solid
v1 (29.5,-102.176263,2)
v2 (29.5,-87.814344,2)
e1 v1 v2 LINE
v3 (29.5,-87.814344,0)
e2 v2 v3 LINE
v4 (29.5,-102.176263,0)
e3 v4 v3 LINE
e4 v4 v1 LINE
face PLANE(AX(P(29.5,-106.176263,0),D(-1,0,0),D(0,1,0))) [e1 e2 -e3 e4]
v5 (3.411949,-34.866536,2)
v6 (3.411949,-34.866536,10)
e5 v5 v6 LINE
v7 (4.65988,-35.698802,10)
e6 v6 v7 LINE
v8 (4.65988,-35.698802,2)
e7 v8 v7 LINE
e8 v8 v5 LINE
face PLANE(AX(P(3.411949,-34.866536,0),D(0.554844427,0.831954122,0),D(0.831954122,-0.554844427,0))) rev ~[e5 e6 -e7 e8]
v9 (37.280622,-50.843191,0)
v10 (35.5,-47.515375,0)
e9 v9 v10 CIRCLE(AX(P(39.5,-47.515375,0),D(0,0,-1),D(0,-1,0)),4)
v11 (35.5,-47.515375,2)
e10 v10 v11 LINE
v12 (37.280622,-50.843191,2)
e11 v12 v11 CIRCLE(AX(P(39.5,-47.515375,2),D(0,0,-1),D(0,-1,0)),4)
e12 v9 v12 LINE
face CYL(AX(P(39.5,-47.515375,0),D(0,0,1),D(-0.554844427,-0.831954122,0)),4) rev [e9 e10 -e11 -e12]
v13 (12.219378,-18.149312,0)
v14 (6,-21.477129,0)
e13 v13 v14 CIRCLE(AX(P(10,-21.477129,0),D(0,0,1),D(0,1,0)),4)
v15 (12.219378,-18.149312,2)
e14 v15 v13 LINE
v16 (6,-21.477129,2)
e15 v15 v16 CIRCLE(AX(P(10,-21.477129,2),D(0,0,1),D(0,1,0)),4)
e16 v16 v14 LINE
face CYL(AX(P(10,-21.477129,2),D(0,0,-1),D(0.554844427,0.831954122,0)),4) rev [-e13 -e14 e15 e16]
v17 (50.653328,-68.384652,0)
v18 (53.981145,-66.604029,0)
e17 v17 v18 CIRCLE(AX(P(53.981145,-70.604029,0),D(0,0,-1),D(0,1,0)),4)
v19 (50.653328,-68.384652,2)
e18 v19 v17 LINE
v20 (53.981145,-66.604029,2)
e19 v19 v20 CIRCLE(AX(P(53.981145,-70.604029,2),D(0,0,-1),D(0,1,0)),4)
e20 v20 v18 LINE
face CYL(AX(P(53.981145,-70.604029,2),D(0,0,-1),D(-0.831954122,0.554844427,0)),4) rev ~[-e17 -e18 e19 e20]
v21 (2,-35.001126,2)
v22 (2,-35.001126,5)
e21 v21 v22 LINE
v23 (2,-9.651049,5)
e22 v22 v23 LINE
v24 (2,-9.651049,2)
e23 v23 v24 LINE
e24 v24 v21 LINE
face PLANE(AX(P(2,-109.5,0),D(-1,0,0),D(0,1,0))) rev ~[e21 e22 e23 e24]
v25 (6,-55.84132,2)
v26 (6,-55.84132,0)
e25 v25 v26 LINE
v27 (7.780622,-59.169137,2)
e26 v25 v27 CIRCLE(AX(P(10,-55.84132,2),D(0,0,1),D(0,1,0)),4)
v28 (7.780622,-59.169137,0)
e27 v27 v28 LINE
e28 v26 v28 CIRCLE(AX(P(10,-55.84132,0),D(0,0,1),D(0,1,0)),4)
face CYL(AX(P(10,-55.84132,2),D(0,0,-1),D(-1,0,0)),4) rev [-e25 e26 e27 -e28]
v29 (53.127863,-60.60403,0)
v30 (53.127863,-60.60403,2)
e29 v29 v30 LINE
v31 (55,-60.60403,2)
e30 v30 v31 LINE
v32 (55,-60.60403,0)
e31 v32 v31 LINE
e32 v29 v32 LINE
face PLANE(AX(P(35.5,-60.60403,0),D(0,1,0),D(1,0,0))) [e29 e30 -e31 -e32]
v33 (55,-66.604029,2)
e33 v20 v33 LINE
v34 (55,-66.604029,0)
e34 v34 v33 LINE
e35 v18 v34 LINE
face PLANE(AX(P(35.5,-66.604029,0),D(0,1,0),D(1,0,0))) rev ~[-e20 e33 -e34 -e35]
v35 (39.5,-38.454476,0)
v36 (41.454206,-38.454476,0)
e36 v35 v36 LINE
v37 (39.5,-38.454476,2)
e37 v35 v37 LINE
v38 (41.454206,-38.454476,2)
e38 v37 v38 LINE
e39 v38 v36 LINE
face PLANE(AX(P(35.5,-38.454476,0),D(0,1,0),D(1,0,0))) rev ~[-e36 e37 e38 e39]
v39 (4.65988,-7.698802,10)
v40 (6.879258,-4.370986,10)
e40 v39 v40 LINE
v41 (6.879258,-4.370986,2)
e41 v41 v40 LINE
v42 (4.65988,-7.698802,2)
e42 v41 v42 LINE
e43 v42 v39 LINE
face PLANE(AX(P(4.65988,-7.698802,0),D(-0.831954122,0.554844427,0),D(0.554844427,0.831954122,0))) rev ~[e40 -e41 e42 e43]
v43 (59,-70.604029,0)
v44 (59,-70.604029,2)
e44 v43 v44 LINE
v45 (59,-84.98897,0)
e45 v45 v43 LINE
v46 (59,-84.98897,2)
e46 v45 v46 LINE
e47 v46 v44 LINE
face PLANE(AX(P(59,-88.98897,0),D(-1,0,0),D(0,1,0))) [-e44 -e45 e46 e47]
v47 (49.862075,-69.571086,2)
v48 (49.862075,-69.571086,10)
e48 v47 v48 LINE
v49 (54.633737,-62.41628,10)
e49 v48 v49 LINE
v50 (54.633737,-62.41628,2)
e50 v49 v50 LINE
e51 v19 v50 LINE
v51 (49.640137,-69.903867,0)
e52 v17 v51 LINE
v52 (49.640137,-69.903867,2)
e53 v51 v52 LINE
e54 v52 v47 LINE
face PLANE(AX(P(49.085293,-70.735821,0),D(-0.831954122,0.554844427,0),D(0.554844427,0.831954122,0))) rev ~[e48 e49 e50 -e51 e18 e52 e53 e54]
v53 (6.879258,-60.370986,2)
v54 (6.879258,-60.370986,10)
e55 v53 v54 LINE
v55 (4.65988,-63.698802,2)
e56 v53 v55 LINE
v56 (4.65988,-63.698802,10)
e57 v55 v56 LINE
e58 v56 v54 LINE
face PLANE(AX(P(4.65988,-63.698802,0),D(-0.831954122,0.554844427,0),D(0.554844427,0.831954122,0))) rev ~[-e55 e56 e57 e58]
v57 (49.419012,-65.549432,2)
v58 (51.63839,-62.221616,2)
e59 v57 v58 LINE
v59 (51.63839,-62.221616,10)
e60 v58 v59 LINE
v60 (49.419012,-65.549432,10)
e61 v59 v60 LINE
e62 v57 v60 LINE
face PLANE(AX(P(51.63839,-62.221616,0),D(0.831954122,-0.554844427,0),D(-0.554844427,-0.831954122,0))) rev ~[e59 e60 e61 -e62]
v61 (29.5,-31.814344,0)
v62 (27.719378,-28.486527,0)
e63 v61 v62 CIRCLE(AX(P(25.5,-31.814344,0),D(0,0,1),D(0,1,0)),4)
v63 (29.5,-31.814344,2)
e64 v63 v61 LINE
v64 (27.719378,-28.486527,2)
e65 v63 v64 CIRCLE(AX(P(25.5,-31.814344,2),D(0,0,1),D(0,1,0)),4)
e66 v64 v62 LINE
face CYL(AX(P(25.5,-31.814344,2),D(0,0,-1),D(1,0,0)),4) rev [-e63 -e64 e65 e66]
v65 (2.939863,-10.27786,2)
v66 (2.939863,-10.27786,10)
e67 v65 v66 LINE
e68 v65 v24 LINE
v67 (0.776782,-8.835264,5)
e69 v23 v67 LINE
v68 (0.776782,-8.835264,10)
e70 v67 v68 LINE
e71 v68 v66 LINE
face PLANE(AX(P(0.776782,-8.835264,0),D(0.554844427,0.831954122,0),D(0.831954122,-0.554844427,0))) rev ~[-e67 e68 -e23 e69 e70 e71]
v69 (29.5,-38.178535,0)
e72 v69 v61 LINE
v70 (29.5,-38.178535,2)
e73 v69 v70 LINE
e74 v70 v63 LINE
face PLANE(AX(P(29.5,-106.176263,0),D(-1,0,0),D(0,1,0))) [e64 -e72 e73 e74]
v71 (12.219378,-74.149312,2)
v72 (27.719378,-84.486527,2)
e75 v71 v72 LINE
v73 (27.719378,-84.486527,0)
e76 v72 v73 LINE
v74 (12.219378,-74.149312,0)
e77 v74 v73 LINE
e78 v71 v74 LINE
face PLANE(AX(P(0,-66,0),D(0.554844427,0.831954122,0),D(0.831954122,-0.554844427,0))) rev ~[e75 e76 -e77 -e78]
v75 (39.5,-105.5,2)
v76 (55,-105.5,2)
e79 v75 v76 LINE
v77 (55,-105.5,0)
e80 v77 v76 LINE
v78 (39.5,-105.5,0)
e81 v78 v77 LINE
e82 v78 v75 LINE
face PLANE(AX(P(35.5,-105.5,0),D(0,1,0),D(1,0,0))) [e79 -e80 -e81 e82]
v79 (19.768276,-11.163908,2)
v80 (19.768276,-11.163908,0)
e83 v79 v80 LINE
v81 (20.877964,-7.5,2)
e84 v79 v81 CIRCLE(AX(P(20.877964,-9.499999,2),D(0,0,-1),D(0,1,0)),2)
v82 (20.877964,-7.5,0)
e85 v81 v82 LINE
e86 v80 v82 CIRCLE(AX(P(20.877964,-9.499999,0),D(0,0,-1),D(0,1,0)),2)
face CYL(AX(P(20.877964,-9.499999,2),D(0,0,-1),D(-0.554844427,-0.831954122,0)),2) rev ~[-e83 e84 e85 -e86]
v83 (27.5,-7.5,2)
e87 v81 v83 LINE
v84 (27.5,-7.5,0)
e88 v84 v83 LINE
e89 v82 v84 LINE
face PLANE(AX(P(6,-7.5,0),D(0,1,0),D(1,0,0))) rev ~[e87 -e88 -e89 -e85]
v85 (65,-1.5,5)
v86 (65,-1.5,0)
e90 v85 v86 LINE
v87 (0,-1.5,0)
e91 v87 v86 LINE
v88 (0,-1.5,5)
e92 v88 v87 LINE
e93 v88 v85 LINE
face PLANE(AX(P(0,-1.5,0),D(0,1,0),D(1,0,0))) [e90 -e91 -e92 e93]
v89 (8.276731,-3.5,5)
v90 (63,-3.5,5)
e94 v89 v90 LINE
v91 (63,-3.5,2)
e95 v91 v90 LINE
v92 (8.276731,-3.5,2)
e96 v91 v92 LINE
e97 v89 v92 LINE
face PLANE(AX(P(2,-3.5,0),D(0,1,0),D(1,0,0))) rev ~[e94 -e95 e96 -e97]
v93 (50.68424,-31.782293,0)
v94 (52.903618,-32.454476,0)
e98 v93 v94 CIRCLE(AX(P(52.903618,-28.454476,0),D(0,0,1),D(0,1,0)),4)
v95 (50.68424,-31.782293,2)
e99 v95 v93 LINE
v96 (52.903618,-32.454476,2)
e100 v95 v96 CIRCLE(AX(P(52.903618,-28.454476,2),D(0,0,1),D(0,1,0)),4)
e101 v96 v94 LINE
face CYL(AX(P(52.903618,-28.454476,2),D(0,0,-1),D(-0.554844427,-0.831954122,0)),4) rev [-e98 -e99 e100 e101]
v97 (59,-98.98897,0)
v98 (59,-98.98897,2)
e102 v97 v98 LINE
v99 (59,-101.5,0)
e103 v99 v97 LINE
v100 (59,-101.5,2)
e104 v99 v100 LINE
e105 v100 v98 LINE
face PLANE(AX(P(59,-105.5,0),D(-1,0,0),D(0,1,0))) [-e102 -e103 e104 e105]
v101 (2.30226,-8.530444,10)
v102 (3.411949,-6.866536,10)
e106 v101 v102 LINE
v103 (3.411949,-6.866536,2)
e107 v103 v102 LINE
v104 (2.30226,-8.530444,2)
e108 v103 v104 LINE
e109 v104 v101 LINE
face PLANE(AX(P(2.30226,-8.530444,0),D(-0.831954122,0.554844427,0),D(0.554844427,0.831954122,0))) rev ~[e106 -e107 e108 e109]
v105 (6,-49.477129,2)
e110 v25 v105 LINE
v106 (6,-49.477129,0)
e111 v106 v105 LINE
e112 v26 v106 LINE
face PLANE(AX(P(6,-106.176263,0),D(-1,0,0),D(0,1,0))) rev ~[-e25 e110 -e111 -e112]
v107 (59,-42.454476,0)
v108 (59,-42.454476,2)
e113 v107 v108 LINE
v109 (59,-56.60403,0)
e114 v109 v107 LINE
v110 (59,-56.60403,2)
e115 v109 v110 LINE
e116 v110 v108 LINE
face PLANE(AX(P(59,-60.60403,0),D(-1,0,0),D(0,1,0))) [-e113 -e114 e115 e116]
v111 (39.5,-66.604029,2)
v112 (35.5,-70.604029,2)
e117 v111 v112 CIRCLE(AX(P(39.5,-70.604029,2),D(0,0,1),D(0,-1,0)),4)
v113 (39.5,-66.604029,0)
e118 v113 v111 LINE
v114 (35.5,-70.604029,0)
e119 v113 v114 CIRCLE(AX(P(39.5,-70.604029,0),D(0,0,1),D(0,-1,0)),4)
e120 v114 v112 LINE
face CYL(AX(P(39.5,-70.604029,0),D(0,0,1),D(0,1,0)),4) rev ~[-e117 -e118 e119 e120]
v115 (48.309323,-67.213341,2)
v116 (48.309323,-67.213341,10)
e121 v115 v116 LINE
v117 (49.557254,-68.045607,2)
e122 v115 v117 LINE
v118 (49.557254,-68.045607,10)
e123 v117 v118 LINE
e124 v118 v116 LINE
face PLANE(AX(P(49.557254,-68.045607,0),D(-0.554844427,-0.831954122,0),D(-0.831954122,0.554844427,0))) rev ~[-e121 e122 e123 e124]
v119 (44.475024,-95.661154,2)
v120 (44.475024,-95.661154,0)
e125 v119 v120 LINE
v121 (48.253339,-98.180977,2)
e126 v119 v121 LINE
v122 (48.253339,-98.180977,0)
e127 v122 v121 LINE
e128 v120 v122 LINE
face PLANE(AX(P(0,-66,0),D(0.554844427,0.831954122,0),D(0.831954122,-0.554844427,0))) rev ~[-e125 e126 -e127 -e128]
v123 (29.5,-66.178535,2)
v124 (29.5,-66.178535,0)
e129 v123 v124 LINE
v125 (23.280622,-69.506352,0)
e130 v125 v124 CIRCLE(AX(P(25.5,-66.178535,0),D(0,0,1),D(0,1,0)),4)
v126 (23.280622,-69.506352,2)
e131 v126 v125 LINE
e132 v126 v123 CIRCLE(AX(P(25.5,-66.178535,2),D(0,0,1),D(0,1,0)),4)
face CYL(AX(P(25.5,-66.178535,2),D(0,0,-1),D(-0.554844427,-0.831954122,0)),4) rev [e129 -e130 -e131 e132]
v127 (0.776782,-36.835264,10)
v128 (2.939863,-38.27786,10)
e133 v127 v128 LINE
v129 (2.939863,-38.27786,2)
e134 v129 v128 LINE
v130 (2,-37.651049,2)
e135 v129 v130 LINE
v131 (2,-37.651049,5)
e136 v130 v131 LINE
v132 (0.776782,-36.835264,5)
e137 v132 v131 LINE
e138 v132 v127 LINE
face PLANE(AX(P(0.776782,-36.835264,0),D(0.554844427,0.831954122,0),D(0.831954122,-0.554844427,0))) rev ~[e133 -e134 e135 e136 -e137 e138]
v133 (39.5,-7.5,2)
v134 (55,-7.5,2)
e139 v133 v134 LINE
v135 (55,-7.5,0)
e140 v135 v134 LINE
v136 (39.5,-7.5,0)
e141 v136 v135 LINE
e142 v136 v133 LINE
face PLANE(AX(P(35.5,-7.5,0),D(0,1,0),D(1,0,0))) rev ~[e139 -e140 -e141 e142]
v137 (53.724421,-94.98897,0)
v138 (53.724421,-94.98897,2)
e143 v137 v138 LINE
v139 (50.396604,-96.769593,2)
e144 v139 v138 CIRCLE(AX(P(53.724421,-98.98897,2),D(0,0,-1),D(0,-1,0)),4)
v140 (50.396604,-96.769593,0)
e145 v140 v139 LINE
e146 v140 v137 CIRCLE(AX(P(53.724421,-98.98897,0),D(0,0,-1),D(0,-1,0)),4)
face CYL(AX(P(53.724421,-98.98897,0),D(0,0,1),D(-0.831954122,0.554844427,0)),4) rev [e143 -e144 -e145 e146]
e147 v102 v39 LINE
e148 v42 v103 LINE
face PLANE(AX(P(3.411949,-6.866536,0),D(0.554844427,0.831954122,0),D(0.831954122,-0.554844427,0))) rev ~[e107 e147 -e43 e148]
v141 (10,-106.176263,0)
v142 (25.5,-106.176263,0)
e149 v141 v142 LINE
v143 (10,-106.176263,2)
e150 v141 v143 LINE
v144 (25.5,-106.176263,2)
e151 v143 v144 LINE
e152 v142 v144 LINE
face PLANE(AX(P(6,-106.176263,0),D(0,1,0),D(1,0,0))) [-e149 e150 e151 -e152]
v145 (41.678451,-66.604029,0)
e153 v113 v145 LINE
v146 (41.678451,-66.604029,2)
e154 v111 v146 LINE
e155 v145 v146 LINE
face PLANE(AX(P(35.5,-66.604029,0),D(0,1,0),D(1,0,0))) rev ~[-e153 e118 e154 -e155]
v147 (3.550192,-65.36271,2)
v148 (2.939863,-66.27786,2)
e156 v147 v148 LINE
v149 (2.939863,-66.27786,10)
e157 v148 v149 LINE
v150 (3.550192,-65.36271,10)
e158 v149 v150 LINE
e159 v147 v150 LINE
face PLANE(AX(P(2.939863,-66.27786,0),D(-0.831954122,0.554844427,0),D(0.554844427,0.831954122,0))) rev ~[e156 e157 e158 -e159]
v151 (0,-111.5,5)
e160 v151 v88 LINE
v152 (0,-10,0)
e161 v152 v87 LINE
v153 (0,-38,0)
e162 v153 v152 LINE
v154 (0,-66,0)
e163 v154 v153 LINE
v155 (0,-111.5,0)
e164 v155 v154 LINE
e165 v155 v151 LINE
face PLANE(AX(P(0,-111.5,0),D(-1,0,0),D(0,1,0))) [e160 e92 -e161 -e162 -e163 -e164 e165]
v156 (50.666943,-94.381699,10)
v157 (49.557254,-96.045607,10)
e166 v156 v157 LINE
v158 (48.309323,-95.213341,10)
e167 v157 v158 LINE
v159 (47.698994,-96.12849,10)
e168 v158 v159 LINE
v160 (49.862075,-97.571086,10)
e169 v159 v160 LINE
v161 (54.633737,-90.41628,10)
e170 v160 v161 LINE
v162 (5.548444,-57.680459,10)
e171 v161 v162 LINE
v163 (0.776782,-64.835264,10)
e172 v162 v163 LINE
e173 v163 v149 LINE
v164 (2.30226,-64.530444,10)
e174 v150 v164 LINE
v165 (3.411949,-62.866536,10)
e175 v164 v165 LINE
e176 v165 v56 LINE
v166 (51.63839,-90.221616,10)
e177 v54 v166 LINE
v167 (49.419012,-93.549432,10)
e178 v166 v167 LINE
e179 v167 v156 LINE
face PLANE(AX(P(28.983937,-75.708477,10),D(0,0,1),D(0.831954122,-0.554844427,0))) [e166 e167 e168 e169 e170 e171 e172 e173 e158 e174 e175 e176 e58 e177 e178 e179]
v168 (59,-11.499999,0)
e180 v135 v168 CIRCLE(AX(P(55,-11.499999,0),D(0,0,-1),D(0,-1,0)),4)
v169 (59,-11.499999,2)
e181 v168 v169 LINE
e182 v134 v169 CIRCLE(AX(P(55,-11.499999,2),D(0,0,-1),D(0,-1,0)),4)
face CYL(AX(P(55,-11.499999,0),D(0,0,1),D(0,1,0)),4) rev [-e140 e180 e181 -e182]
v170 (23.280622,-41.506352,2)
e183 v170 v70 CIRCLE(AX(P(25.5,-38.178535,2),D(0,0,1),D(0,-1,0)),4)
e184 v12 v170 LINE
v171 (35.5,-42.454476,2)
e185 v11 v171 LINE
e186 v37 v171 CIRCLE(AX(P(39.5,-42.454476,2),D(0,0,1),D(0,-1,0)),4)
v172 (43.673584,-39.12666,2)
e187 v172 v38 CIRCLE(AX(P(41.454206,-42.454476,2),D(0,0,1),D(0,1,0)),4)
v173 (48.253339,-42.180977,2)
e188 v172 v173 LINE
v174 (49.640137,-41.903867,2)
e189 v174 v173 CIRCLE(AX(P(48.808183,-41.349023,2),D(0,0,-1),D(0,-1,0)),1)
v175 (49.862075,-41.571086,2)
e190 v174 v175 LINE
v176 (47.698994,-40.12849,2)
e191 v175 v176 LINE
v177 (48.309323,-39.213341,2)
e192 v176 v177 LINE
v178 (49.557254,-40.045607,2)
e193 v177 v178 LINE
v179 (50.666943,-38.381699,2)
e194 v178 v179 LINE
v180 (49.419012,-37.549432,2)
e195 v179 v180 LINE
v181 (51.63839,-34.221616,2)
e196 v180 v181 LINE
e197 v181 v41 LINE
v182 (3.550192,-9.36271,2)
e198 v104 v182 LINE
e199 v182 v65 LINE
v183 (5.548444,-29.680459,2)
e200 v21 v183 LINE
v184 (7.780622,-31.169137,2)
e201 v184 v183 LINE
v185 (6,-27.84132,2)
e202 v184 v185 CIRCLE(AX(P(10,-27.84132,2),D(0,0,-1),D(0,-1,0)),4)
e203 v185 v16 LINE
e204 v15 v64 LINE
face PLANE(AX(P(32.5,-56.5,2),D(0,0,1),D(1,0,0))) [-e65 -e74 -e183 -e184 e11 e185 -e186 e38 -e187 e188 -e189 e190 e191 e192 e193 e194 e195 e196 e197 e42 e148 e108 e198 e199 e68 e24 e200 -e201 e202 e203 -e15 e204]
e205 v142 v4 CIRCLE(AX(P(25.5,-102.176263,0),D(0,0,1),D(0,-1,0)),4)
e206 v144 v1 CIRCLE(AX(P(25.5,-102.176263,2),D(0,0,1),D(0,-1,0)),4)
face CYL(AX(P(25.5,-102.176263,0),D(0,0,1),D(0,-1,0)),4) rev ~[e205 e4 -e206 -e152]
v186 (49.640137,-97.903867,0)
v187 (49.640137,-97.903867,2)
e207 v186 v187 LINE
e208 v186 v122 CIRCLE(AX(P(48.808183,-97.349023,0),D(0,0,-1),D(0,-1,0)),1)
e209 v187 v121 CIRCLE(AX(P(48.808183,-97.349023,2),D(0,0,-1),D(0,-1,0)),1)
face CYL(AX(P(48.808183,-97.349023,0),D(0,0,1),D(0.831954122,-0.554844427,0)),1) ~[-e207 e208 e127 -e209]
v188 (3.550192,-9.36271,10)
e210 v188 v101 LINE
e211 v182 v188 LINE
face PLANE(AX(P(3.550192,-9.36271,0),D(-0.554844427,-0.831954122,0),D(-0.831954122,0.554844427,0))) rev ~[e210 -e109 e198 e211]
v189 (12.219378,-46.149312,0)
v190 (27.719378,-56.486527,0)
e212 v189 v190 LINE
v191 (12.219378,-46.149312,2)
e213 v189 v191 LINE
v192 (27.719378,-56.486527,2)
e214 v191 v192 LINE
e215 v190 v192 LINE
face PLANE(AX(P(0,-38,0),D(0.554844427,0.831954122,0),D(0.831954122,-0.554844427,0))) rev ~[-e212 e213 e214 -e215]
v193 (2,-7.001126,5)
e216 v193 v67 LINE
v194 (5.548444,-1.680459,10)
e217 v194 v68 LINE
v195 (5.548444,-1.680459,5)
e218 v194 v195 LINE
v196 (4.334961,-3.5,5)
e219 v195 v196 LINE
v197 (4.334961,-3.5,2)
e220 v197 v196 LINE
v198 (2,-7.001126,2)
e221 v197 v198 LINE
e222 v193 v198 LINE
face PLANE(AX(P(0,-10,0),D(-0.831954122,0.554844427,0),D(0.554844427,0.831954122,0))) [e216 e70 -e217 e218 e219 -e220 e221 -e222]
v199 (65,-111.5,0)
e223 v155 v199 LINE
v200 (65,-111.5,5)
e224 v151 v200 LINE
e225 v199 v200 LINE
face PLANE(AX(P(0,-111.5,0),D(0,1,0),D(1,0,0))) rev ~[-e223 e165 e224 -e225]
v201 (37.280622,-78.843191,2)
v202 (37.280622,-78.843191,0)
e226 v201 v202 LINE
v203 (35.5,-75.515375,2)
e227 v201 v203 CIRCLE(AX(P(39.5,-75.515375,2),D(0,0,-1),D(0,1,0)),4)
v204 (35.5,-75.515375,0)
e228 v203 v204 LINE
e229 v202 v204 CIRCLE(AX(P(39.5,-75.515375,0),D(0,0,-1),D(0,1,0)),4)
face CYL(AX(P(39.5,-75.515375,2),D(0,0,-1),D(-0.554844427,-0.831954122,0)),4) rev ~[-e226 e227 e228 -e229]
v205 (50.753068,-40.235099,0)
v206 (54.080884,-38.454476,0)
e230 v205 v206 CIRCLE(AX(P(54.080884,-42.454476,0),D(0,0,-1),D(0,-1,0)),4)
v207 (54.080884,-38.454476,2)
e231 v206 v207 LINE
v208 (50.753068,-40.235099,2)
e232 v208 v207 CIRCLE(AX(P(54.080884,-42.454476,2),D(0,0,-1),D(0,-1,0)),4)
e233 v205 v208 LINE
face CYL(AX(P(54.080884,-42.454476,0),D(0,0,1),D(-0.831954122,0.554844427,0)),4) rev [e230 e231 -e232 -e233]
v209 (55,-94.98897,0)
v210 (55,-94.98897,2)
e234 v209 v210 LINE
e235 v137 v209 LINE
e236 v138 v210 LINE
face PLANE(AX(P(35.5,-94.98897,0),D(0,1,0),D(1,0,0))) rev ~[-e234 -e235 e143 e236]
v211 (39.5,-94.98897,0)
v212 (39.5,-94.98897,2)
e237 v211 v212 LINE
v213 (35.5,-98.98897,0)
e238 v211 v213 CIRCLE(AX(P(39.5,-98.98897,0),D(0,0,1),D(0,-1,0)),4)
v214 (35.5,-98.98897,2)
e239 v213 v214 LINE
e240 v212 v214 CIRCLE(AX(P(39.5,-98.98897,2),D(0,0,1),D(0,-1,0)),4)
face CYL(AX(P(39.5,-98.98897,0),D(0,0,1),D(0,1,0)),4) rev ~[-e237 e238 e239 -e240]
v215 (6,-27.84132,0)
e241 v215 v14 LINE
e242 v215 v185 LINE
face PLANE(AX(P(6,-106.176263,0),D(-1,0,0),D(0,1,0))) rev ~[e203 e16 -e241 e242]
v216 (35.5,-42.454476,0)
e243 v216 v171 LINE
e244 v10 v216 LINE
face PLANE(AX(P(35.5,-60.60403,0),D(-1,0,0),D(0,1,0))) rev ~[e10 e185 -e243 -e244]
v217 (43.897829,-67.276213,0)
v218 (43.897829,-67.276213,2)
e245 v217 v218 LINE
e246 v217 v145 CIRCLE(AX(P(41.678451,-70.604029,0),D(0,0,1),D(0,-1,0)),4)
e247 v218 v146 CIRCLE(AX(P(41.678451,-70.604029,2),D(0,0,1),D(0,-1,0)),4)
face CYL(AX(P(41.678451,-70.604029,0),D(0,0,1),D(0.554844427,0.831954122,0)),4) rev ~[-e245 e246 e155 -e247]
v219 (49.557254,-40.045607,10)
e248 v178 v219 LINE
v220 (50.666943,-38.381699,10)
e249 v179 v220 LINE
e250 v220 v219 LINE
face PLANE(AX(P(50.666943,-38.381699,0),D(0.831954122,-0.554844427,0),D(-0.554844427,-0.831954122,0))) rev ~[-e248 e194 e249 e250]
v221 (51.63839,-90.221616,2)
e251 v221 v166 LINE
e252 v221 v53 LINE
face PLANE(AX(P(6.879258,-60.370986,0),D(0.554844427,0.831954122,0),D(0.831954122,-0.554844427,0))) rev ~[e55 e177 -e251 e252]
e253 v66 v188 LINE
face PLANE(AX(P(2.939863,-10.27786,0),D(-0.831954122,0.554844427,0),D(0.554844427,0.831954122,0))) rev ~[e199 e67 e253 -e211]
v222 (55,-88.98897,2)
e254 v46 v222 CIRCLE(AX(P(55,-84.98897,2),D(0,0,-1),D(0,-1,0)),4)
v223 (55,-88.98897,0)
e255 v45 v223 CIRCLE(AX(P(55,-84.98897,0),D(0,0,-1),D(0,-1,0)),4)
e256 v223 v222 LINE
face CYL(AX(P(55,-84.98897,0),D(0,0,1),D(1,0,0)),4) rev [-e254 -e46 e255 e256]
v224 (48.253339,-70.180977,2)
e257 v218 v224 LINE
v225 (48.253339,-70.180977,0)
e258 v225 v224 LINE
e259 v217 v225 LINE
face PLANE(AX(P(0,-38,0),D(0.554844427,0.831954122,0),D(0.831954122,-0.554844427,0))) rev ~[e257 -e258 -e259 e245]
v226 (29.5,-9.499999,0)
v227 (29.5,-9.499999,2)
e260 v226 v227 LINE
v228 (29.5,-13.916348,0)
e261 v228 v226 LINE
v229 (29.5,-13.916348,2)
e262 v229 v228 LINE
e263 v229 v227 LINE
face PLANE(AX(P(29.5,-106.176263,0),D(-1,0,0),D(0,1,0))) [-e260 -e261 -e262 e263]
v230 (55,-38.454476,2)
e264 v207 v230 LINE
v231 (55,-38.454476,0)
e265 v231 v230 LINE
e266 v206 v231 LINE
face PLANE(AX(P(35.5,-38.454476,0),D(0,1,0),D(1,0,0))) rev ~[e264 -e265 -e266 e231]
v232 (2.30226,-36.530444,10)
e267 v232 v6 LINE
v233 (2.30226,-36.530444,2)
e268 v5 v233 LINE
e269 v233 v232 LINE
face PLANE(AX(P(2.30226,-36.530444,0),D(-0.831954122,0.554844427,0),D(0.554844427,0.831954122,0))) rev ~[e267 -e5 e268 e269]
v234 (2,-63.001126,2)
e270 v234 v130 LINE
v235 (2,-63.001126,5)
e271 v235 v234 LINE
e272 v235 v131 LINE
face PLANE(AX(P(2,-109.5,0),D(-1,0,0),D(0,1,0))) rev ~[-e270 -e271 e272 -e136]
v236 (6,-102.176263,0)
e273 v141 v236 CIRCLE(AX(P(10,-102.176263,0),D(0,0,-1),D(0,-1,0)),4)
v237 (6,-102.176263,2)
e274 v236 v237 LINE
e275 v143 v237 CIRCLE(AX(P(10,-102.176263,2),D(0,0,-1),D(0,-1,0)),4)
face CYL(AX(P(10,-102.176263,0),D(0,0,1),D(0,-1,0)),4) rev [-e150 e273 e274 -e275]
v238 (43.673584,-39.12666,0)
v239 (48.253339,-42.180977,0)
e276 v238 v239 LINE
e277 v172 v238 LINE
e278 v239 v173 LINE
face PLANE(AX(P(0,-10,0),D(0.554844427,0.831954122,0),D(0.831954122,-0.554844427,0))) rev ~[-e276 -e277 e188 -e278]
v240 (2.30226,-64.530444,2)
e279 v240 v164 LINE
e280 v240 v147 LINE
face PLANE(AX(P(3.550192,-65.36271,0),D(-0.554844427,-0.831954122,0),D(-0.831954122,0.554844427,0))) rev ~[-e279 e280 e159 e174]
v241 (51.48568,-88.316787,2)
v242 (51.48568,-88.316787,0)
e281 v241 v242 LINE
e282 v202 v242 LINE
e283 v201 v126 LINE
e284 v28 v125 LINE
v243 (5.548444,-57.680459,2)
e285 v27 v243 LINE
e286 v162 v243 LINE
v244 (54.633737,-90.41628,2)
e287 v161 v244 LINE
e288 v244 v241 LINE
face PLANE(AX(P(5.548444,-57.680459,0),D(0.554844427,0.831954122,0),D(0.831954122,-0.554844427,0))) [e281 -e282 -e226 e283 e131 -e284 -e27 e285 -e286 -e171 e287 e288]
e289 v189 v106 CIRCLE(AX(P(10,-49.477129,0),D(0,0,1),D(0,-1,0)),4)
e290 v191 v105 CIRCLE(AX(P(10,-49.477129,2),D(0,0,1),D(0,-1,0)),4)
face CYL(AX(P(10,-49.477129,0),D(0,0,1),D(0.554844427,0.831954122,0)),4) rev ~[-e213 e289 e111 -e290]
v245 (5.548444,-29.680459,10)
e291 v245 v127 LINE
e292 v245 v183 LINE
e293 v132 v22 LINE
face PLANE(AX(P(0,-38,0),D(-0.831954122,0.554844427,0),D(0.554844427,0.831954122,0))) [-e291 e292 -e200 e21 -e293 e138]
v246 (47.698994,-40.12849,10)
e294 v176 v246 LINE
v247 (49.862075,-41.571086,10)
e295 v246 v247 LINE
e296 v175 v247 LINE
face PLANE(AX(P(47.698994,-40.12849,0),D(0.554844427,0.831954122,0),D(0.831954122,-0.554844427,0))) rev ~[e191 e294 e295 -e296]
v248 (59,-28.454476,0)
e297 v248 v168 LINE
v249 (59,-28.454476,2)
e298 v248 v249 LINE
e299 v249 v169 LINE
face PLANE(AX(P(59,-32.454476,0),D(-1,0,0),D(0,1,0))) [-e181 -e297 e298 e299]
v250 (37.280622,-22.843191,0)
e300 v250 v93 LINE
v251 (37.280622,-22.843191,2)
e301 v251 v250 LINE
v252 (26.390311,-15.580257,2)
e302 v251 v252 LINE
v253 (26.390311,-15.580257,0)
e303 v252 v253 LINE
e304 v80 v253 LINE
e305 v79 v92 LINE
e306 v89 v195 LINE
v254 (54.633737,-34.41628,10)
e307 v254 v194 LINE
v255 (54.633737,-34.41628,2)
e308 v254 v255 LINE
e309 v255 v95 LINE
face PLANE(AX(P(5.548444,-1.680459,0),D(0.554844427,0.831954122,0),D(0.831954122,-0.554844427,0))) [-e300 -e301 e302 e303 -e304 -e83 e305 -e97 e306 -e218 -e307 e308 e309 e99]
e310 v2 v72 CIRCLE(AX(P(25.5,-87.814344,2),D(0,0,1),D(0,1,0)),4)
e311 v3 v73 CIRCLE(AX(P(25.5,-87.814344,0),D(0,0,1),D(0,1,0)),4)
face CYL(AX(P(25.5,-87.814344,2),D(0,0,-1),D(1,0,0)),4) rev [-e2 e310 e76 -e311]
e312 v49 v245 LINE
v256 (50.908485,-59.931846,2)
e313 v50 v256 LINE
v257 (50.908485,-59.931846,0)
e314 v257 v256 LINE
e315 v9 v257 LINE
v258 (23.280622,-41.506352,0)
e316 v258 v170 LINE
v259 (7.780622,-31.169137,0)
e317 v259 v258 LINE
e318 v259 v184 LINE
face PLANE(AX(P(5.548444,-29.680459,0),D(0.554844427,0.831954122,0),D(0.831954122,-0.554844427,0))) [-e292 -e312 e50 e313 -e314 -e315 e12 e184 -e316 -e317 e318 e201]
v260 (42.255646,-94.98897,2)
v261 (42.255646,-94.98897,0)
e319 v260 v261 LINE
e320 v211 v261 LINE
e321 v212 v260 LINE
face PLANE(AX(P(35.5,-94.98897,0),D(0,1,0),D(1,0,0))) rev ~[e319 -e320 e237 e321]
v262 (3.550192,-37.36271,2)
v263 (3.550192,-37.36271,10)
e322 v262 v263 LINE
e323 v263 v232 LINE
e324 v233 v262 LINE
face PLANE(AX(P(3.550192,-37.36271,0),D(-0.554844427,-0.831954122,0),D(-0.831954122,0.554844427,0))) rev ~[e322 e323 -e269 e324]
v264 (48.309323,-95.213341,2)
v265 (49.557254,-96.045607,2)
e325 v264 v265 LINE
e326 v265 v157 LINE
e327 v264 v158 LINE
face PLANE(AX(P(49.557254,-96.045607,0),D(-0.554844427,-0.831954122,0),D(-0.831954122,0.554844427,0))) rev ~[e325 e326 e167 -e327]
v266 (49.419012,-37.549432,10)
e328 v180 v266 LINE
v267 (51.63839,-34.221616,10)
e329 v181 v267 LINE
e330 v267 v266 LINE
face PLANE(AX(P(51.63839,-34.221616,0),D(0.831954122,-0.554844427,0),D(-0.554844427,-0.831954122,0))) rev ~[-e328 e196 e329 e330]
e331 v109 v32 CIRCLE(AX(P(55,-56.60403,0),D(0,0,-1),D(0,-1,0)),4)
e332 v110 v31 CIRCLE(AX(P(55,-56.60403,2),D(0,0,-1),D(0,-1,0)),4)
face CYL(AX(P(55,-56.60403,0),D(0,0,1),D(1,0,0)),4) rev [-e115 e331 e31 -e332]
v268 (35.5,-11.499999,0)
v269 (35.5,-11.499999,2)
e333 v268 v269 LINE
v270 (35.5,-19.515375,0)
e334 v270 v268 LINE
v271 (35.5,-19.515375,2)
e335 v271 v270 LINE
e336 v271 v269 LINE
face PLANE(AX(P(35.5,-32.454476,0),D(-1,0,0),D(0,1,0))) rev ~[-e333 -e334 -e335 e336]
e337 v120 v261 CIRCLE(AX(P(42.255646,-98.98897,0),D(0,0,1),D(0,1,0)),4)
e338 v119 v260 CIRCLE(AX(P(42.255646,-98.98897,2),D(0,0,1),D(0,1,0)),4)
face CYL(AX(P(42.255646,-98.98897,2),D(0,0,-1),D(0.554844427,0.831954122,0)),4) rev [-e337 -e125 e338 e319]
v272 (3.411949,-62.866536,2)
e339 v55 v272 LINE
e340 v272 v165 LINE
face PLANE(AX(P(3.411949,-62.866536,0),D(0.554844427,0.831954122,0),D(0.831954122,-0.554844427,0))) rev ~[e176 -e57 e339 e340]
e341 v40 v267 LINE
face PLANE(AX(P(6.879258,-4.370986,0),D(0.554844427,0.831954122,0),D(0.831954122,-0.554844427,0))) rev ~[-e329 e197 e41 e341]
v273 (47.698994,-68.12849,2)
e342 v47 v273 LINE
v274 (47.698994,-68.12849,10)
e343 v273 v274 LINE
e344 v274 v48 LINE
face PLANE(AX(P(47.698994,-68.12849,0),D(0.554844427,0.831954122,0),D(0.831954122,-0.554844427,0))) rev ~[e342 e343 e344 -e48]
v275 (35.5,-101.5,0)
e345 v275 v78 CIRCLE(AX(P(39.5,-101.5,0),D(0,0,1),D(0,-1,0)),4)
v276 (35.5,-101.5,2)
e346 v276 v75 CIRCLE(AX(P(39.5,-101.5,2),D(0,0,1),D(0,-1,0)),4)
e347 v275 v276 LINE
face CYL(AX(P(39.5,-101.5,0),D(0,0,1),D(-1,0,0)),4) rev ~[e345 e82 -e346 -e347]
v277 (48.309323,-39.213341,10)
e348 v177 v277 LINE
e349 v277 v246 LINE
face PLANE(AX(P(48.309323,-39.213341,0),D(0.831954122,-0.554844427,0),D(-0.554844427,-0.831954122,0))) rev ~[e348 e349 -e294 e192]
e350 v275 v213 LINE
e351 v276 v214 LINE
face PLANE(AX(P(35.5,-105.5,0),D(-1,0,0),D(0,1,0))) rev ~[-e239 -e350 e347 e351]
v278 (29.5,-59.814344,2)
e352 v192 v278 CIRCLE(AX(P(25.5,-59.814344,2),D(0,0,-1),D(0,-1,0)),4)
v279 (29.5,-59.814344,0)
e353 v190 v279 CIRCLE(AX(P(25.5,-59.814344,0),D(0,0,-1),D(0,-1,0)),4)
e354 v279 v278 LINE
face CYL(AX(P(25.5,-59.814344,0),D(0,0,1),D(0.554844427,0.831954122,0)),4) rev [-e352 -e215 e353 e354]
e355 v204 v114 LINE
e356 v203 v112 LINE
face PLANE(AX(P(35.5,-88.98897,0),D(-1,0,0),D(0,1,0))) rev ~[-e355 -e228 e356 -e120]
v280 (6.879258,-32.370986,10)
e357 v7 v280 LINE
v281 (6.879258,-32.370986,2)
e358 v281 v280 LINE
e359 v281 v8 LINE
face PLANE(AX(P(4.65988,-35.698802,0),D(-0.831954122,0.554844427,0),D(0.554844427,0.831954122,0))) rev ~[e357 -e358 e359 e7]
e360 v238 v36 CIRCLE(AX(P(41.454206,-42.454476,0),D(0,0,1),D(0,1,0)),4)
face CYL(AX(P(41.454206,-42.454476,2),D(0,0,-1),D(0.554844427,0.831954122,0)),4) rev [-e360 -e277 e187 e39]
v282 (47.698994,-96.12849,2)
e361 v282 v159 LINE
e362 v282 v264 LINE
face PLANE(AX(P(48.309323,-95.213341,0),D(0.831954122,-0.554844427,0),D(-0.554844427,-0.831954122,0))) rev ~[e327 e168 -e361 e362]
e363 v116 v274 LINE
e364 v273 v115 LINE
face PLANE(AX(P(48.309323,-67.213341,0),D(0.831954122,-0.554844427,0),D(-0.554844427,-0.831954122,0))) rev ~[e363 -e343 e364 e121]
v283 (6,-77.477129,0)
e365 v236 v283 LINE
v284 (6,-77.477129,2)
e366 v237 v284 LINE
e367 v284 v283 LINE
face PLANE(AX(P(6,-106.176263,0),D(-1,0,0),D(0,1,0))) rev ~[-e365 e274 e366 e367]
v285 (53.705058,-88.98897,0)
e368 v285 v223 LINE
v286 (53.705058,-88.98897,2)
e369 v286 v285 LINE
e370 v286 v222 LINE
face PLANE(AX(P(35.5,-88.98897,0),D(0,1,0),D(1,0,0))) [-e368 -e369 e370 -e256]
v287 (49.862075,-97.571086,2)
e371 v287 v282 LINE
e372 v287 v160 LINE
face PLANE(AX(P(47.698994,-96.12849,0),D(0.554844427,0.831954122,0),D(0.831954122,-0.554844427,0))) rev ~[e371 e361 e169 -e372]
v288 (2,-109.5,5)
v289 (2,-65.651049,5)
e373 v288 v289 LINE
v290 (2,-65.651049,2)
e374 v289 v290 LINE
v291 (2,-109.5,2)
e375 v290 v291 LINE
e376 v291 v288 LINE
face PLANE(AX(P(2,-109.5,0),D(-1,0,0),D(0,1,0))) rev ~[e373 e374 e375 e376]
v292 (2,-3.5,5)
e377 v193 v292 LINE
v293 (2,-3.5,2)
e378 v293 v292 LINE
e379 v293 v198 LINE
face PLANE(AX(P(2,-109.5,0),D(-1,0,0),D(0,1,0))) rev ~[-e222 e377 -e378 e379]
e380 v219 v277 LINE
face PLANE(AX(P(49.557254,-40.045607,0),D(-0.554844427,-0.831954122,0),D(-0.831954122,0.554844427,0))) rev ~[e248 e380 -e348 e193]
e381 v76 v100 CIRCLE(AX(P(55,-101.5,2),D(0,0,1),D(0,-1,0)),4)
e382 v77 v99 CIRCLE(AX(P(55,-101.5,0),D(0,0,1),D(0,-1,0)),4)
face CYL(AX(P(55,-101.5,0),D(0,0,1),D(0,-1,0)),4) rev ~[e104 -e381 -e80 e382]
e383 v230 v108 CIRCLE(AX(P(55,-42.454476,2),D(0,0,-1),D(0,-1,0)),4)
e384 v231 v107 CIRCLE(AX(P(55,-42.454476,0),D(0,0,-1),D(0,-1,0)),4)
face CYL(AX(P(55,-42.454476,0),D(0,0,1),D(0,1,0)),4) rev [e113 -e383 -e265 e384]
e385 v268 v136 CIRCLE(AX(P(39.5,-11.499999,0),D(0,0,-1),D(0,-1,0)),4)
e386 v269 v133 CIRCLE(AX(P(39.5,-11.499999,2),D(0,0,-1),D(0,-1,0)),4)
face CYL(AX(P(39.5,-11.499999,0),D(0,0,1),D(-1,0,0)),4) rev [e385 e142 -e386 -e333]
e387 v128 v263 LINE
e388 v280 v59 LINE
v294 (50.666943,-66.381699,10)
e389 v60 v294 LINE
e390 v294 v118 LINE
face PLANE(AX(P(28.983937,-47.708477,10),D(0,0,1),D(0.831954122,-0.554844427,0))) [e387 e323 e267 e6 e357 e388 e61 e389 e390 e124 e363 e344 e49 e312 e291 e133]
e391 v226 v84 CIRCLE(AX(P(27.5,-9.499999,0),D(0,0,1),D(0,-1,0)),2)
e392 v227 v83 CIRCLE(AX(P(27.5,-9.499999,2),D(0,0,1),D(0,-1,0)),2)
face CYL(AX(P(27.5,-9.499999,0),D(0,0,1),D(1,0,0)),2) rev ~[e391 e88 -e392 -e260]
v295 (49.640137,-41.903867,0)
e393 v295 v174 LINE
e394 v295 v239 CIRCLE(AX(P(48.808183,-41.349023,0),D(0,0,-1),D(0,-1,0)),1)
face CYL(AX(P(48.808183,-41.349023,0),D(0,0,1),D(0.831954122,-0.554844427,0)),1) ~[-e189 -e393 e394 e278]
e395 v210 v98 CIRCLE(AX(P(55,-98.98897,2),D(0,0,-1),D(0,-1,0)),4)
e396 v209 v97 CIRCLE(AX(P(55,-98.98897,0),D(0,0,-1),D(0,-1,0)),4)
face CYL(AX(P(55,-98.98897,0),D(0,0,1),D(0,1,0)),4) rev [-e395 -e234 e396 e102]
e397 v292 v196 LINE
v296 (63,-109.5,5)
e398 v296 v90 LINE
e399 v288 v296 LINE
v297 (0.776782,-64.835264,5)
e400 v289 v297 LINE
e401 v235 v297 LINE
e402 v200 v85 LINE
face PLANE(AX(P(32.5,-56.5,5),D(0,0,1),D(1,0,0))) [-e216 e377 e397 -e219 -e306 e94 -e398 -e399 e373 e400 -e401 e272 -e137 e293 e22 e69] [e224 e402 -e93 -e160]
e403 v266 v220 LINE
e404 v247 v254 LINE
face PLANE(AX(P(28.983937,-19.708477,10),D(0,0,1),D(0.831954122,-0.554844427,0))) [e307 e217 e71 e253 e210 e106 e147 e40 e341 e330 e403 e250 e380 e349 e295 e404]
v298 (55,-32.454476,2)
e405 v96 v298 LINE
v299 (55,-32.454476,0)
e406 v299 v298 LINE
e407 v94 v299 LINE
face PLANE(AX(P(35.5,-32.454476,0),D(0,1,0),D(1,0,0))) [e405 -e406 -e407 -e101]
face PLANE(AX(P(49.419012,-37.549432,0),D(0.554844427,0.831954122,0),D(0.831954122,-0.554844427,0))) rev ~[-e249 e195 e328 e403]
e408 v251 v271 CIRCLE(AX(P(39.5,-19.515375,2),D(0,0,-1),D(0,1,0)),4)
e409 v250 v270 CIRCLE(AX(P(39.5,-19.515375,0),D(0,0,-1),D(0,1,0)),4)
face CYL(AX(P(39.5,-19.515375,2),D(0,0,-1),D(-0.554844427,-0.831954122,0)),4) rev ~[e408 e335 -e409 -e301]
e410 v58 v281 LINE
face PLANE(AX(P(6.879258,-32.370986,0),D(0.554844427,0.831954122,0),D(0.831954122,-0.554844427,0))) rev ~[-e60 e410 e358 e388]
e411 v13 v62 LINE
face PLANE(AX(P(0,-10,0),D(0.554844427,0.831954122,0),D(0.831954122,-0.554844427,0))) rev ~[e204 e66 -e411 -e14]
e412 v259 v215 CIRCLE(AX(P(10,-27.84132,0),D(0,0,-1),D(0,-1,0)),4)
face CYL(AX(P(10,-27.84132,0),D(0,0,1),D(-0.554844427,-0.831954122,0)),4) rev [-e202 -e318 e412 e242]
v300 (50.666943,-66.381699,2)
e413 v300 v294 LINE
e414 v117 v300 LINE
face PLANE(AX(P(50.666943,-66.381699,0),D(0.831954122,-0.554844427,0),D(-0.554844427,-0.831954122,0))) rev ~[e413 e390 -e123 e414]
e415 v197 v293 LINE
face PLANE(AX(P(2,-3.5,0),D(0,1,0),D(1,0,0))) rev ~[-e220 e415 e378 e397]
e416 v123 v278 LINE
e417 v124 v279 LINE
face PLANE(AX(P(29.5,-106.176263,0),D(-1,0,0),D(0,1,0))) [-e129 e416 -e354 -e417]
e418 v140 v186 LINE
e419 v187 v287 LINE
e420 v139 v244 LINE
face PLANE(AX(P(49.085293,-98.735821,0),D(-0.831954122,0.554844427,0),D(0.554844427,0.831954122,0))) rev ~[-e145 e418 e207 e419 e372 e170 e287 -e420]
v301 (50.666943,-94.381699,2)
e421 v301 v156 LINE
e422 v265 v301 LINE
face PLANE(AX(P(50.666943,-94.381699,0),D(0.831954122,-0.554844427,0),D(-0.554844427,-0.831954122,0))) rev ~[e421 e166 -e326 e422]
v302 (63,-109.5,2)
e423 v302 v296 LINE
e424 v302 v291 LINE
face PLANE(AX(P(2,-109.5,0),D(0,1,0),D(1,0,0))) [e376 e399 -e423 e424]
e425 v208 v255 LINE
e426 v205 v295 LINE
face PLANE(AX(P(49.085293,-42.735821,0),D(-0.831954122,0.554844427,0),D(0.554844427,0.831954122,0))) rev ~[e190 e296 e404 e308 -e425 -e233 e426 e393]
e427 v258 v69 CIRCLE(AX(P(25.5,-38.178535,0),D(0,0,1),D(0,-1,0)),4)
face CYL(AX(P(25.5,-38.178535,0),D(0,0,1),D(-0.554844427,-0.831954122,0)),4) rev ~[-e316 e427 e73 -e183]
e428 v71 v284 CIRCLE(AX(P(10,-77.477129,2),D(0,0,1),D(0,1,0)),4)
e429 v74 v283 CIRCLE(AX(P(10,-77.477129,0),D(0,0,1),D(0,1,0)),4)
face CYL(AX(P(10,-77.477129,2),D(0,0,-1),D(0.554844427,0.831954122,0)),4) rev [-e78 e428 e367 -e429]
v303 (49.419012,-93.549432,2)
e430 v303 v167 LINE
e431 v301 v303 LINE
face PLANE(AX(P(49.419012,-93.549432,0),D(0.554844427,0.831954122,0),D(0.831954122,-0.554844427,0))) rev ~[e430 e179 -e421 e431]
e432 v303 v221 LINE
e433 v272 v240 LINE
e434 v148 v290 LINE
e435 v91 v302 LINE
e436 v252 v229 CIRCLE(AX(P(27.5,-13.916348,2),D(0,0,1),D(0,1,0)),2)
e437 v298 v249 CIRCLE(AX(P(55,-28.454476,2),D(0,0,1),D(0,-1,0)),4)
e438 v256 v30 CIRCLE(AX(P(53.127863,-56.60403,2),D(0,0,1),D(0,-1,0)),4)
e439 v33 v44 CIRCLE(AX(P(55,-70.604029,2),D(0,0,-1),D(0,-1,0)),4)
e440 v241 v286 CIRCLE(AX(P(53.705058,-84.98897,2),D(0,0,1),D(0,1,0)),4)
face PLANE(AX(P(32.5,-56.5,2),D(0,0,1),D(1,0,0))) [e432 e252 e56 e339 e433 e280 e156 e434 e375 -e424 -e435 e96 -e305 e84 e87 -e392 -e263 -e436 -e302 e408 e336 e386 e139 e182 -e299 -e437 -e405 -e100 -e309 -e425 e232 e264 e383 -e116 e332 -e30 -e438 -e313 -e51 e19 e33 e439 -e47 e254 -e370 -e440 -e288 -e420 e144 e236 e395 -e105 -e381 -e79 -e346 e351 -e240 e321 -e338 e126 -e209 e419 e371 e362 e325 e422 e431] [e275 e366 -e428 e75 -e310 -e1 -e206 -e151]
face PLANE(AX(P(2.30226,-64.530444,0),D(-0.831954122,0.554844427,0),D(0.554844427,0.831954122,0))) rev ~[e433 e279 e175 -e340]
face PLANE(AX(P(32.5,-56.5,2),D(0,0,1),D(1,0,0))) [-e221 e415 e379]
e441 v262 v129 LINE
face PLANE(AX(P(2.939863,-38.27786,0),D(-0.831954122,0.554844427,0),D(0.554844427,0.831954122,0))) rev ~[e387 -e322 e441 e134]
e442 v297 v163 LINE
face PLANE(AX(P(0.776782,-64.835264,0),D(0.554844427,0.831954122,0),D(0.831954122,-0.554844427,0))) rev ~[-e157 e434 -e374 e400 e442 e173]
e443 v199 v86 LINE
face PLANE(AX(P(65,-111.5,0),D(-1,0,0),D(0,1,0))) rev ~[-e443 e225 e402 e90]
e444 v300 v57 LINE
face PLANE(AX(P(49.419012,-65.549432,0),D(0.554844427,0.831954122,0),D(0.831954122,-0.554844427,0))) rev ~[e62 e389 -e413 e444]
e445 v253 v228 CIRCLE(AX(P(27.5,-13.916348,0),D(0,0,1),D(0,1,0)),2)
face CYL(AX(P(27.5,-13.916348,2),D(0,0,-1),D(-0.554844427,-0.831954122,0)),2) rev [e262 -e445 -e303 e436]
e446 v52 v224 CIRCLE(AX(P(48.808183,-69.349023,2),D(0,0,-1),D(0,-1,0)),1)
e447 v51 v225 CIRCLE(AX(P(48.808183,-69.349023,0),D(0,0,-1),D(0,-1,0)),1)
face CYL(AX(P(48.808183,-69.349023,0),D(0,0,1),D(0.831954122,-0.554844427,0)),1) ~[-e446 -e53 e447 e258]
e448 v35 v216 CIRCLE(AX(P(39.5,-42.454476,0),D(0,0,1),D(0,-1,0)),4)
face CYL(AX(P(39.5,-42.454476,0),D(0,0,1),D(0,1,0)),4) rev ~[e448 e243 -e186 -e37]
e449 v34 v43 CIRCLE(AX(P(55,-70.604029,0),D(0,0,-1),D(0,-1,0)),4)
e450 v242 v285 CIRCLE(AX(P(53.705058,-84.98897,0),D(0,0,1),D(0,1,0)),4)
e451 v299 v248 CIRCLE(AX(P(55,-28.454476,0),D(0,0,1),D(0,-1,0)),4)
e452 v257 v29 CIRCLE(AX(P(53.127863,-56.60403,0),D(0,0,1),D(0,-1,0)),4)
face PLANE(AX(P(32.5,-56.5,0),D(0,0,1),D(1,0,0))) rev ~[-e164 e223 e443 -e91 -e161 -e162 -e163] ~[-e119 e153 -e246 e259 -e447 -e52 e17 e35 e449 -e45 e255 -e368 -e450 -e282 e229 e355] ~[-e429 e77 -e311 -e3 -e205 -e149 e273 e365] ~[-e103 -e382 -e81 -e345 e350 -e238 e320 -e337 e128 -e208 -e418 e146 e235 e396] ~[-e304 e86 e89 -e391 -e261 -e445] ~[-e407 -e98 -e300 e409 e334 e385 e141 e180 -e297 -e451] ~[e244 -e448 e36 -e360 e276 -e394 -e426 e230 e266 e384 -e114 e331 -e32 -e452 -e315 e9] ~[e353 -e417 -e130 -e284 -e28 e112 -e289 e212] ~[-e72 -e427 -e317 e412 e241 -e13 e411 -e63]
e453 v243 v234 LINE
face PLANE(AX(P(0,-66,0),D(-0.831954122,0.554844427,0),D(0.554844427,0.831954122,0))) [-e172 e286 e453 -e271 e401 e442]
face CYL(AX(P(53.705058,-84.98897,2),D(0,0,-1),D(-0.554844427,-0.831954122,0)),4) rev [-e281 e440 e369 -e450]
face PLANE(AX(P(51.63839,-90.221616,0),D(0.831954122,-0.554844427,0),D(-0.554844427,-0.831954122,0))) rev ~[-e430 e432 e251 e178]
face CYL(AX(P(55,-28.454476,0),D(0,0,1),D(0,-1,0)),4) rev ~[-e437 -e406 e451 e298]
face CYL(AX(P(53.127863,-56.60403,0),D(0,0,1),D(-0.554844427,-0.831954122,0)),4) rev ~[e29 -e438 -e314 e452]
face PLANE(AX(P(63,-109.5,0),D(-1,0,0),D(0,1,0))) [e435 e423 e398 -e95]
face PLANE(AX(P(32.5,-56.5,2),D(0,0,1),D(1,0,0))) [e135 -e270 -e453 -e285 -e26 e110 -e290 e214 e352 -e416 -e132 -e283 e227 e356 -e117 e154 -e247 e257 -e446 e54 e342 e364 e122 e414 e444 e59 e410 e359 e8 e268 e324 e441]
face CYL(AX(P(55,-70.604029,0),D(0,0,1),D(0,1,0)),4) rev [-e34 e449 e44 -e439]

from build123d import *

# Parameters (mm, degrees)
SKETCH002_W            = 65
SKETCH002_H            = 110
SKETCH002_W_2          = 61
SKETCH002_H_2          = 106
PAD002_DEPTH           = 5
SKETCH003_W            = 65
SKETCH003_H            = 110
SKETCH003_W_2          = 23.5
SKETCH003_H_2          = 98.676263
SKETCH003_H_3          = 24.954477
SKETCH003_H_4          = 22.149553
SKETCH003_H_5          = 22.384941
SKETCH003_H_6          = 10.511029
PAD003_DEPTH           = 2
PAD001_DEPTH           = 10
SKETCH_W               = 59
SKETCH_H               = 10
PAD_DEPTH              = 2
FUSION_PLACEMENT_ANGLE = -33.7
FILLET_R               = 1
FILLET001_R            = 4
FILLET002_R            = 4
FILLET003_R            = 2


with BuildPart() as pad002:
    # Sketch002 → Pad002 (new body)
    with BuildSketch(Plane.XY):
        with Locations((32.5, -56.5)):
            Rectangle(SKETCH002_W, SKETCH002_H)
        with Locations((32.5, -56.5)):
            Rectangle(SKETCH002_W_2, SKETCH002_H_2, mode=Mode.SUBTRACT)
    extrude(amount=PAD002_DEPTH)


with BuildPart() as fusion001:
    # Sketch003 → Pad003 (new body)
    with BuildSketch(Plane.XY):
        with Locations((32.5, -56.5)):
            Rectangle(SKETCH003_W, SKETCH003_H)
        with Locations((17.75, -56.838131)):
            Rectangle(SKETCH003_W_2, SKETCH003_H_2, mode=Mode.SUBTRACT)
        with Locations((47.25, -19.977238)):
            Rectangle(SKETCH003_W_2, SKETCH003_H_3, mode=Mode.SUBTRACT)
        with Locations((47.25, -49.529253)):
            Rectangle(SKETCH003_W_2, SKETCH003_H_4, mode=Mode.SUBTRACT)
        with Locations((47.25, -77.7965)):
            Rectangle(SKETCH003_W_2, SKETCH003_H_5, mode=Mode.SUBTRACT)
        with Locations((47.25, -100.244485)):
            Rectangle(SKETCH003_W_2, SKETCH003_H_6, mode=Mode.SUBTRACT)
    extrude(amount=PAD003_DEPTH)

    # Fusion001: union Pad002
    add(pad002.part)


with BuildPart() as pad001:
    # Sketch001 → Pad001 (new body)
    with BuildSketch(Plane.XY):
        Polygon((0, 0), (0, -8.6), (2.6, -8.6), (2.6, -7.5), (1.1, -7.5), (1.1, -5.5), (2.6, -5.5), (2.6, -1.5), (56.4, -1.5), (56.4, -5.5), (57.9, -5.5), (57.9, -7.5), (56.4, -7.5), (56.4, -8.6), (59, -8.6), (59, 0), align=None)
    extrude(amount=PAD001_DEPTH)


with BuildPart() as relay001:
    # Sketch → Pad (new body)
    with BuildSketch(Plane.XY):
        with Locations((29.5, -5)):
            Rectangle(SKETCH_W, SKETCH_H)
    extrude(amount=PAD_DEPTH)

    # Fusion: union Pad001
    add(pad001.part)


with BuildPart() as relay001_1:
    # Fusion placement: moved
    add(relay001.part.moved(Location((5.548444, -1.680459, 0))).rotate(Axis((5.548444, -1.680459, 0), (0, 0, 1)), FUSION_PLACEMENT_ANGLE))


with BuildPart() as clone_of_relay002:
    # Clone001 base: copy of Relay001
    add(relay001_1.part)


with BuildPart() as clone_of_relay002_1:
    # Clone001 placement: moved
    add(clone_of_relay002.part.moved(Location((0, -56, 0))))


with BuildPart() as fillet003:
    # Clone base: copy of Relay001
    add(relay001_1.part)


with BuildPart() as fillet003_1:
    # Clone placement: moved
    add(fillet003.part.moved(Location((0, -28, 0))))

    # Fusion002: union Fusion001, Clone of Relay002, Relay001
    add(fusion001.part)
    add(clone_of_relay002_1.part)
    add(relay001_1.part)

    # Fillet
    fillet_edges = [fillet003_1.edges().sort_by_distance(p)[0] for p in [
        (49.085293, -98.735821, 1),
        (49.085293, -70.735821, 1),
        (49.085293, -42.735821, 1),
    ]]
    fillet(fillet_edges, radius=FILLET_R)

    # Fillet001
    fillet001_edges = [fillet003_1.edges().sort_by_distance(p)[0] for p in [
        (35.5, -94.988971, 1),
        (43.467128, -94.988971, 1),
        (51.584132, -94.988971, 1),
        (35.5, -66.60403, 1),
        (42.889933, -66.60403, 1),
        (51.840855, -66.60403, 1),
        (35.5, -38.454477, 1),
        (42.665688, -38.454477, 1),
        (51.940595, -38.454477, 1),
        (35.5, -7.5, 1),
        (35.5, -21.655663, 1),
        (51.692138, -32.454477, 1),
        (35.5, -49.655663, 1),
        (51.916383, -60.60403, 1),
        (35.5, -77.655663, 1),
        (52.493578, -88.988971, 1),
        (35.5, -105.5, 1),
        (59, -66.60403, 1),
        (59, -38.454477, 1),
        (59, -7.5, 1),
        (59, -94.988971, 1),
        (59, -105.5, 1),
        (59, -88.988971, 1),
        (59, -60.60403, 1),
        (59, -32.454477, 1),
    ]]
    fillet(fillet001_edges, radius=FILLET001_R)

    # Fillet002
    fillet002_edges = [fillet003_1.edges().sort_by_distance(p)[0] for p in [
        (29.5, -85.674054, 1),
        (29.5, -57.674054, 1),
        (29.5, -29.674054, 1),
        (6, -70.001503, 1),
        (6, -42.001503, 1),
        (6, -14.001503, 1),
        (6, -29.981609, 1),
        (6, -57.981609, 1),
        (6, -106.176263, 1),
        (29.5, -45.654161, 1),
        (29.5, -73.654161, 1),
        (29.5, -106.176263, 1),
    ]]
    fillet(fillet002_edges, radius=FILLET002_R)

    # Fillet003
    fillet003_edges = [fillet003_1.edges().sort_by_distance(p)[0] for p in [
        (29.5, -7.5, 1),
        (14.274478, -7.5, 1),
        (29.5, -17.654161, 1),
    ]]
    fillet(fillet003_edges, radius=FILLET003_R)


solid = fillet003_1.part
